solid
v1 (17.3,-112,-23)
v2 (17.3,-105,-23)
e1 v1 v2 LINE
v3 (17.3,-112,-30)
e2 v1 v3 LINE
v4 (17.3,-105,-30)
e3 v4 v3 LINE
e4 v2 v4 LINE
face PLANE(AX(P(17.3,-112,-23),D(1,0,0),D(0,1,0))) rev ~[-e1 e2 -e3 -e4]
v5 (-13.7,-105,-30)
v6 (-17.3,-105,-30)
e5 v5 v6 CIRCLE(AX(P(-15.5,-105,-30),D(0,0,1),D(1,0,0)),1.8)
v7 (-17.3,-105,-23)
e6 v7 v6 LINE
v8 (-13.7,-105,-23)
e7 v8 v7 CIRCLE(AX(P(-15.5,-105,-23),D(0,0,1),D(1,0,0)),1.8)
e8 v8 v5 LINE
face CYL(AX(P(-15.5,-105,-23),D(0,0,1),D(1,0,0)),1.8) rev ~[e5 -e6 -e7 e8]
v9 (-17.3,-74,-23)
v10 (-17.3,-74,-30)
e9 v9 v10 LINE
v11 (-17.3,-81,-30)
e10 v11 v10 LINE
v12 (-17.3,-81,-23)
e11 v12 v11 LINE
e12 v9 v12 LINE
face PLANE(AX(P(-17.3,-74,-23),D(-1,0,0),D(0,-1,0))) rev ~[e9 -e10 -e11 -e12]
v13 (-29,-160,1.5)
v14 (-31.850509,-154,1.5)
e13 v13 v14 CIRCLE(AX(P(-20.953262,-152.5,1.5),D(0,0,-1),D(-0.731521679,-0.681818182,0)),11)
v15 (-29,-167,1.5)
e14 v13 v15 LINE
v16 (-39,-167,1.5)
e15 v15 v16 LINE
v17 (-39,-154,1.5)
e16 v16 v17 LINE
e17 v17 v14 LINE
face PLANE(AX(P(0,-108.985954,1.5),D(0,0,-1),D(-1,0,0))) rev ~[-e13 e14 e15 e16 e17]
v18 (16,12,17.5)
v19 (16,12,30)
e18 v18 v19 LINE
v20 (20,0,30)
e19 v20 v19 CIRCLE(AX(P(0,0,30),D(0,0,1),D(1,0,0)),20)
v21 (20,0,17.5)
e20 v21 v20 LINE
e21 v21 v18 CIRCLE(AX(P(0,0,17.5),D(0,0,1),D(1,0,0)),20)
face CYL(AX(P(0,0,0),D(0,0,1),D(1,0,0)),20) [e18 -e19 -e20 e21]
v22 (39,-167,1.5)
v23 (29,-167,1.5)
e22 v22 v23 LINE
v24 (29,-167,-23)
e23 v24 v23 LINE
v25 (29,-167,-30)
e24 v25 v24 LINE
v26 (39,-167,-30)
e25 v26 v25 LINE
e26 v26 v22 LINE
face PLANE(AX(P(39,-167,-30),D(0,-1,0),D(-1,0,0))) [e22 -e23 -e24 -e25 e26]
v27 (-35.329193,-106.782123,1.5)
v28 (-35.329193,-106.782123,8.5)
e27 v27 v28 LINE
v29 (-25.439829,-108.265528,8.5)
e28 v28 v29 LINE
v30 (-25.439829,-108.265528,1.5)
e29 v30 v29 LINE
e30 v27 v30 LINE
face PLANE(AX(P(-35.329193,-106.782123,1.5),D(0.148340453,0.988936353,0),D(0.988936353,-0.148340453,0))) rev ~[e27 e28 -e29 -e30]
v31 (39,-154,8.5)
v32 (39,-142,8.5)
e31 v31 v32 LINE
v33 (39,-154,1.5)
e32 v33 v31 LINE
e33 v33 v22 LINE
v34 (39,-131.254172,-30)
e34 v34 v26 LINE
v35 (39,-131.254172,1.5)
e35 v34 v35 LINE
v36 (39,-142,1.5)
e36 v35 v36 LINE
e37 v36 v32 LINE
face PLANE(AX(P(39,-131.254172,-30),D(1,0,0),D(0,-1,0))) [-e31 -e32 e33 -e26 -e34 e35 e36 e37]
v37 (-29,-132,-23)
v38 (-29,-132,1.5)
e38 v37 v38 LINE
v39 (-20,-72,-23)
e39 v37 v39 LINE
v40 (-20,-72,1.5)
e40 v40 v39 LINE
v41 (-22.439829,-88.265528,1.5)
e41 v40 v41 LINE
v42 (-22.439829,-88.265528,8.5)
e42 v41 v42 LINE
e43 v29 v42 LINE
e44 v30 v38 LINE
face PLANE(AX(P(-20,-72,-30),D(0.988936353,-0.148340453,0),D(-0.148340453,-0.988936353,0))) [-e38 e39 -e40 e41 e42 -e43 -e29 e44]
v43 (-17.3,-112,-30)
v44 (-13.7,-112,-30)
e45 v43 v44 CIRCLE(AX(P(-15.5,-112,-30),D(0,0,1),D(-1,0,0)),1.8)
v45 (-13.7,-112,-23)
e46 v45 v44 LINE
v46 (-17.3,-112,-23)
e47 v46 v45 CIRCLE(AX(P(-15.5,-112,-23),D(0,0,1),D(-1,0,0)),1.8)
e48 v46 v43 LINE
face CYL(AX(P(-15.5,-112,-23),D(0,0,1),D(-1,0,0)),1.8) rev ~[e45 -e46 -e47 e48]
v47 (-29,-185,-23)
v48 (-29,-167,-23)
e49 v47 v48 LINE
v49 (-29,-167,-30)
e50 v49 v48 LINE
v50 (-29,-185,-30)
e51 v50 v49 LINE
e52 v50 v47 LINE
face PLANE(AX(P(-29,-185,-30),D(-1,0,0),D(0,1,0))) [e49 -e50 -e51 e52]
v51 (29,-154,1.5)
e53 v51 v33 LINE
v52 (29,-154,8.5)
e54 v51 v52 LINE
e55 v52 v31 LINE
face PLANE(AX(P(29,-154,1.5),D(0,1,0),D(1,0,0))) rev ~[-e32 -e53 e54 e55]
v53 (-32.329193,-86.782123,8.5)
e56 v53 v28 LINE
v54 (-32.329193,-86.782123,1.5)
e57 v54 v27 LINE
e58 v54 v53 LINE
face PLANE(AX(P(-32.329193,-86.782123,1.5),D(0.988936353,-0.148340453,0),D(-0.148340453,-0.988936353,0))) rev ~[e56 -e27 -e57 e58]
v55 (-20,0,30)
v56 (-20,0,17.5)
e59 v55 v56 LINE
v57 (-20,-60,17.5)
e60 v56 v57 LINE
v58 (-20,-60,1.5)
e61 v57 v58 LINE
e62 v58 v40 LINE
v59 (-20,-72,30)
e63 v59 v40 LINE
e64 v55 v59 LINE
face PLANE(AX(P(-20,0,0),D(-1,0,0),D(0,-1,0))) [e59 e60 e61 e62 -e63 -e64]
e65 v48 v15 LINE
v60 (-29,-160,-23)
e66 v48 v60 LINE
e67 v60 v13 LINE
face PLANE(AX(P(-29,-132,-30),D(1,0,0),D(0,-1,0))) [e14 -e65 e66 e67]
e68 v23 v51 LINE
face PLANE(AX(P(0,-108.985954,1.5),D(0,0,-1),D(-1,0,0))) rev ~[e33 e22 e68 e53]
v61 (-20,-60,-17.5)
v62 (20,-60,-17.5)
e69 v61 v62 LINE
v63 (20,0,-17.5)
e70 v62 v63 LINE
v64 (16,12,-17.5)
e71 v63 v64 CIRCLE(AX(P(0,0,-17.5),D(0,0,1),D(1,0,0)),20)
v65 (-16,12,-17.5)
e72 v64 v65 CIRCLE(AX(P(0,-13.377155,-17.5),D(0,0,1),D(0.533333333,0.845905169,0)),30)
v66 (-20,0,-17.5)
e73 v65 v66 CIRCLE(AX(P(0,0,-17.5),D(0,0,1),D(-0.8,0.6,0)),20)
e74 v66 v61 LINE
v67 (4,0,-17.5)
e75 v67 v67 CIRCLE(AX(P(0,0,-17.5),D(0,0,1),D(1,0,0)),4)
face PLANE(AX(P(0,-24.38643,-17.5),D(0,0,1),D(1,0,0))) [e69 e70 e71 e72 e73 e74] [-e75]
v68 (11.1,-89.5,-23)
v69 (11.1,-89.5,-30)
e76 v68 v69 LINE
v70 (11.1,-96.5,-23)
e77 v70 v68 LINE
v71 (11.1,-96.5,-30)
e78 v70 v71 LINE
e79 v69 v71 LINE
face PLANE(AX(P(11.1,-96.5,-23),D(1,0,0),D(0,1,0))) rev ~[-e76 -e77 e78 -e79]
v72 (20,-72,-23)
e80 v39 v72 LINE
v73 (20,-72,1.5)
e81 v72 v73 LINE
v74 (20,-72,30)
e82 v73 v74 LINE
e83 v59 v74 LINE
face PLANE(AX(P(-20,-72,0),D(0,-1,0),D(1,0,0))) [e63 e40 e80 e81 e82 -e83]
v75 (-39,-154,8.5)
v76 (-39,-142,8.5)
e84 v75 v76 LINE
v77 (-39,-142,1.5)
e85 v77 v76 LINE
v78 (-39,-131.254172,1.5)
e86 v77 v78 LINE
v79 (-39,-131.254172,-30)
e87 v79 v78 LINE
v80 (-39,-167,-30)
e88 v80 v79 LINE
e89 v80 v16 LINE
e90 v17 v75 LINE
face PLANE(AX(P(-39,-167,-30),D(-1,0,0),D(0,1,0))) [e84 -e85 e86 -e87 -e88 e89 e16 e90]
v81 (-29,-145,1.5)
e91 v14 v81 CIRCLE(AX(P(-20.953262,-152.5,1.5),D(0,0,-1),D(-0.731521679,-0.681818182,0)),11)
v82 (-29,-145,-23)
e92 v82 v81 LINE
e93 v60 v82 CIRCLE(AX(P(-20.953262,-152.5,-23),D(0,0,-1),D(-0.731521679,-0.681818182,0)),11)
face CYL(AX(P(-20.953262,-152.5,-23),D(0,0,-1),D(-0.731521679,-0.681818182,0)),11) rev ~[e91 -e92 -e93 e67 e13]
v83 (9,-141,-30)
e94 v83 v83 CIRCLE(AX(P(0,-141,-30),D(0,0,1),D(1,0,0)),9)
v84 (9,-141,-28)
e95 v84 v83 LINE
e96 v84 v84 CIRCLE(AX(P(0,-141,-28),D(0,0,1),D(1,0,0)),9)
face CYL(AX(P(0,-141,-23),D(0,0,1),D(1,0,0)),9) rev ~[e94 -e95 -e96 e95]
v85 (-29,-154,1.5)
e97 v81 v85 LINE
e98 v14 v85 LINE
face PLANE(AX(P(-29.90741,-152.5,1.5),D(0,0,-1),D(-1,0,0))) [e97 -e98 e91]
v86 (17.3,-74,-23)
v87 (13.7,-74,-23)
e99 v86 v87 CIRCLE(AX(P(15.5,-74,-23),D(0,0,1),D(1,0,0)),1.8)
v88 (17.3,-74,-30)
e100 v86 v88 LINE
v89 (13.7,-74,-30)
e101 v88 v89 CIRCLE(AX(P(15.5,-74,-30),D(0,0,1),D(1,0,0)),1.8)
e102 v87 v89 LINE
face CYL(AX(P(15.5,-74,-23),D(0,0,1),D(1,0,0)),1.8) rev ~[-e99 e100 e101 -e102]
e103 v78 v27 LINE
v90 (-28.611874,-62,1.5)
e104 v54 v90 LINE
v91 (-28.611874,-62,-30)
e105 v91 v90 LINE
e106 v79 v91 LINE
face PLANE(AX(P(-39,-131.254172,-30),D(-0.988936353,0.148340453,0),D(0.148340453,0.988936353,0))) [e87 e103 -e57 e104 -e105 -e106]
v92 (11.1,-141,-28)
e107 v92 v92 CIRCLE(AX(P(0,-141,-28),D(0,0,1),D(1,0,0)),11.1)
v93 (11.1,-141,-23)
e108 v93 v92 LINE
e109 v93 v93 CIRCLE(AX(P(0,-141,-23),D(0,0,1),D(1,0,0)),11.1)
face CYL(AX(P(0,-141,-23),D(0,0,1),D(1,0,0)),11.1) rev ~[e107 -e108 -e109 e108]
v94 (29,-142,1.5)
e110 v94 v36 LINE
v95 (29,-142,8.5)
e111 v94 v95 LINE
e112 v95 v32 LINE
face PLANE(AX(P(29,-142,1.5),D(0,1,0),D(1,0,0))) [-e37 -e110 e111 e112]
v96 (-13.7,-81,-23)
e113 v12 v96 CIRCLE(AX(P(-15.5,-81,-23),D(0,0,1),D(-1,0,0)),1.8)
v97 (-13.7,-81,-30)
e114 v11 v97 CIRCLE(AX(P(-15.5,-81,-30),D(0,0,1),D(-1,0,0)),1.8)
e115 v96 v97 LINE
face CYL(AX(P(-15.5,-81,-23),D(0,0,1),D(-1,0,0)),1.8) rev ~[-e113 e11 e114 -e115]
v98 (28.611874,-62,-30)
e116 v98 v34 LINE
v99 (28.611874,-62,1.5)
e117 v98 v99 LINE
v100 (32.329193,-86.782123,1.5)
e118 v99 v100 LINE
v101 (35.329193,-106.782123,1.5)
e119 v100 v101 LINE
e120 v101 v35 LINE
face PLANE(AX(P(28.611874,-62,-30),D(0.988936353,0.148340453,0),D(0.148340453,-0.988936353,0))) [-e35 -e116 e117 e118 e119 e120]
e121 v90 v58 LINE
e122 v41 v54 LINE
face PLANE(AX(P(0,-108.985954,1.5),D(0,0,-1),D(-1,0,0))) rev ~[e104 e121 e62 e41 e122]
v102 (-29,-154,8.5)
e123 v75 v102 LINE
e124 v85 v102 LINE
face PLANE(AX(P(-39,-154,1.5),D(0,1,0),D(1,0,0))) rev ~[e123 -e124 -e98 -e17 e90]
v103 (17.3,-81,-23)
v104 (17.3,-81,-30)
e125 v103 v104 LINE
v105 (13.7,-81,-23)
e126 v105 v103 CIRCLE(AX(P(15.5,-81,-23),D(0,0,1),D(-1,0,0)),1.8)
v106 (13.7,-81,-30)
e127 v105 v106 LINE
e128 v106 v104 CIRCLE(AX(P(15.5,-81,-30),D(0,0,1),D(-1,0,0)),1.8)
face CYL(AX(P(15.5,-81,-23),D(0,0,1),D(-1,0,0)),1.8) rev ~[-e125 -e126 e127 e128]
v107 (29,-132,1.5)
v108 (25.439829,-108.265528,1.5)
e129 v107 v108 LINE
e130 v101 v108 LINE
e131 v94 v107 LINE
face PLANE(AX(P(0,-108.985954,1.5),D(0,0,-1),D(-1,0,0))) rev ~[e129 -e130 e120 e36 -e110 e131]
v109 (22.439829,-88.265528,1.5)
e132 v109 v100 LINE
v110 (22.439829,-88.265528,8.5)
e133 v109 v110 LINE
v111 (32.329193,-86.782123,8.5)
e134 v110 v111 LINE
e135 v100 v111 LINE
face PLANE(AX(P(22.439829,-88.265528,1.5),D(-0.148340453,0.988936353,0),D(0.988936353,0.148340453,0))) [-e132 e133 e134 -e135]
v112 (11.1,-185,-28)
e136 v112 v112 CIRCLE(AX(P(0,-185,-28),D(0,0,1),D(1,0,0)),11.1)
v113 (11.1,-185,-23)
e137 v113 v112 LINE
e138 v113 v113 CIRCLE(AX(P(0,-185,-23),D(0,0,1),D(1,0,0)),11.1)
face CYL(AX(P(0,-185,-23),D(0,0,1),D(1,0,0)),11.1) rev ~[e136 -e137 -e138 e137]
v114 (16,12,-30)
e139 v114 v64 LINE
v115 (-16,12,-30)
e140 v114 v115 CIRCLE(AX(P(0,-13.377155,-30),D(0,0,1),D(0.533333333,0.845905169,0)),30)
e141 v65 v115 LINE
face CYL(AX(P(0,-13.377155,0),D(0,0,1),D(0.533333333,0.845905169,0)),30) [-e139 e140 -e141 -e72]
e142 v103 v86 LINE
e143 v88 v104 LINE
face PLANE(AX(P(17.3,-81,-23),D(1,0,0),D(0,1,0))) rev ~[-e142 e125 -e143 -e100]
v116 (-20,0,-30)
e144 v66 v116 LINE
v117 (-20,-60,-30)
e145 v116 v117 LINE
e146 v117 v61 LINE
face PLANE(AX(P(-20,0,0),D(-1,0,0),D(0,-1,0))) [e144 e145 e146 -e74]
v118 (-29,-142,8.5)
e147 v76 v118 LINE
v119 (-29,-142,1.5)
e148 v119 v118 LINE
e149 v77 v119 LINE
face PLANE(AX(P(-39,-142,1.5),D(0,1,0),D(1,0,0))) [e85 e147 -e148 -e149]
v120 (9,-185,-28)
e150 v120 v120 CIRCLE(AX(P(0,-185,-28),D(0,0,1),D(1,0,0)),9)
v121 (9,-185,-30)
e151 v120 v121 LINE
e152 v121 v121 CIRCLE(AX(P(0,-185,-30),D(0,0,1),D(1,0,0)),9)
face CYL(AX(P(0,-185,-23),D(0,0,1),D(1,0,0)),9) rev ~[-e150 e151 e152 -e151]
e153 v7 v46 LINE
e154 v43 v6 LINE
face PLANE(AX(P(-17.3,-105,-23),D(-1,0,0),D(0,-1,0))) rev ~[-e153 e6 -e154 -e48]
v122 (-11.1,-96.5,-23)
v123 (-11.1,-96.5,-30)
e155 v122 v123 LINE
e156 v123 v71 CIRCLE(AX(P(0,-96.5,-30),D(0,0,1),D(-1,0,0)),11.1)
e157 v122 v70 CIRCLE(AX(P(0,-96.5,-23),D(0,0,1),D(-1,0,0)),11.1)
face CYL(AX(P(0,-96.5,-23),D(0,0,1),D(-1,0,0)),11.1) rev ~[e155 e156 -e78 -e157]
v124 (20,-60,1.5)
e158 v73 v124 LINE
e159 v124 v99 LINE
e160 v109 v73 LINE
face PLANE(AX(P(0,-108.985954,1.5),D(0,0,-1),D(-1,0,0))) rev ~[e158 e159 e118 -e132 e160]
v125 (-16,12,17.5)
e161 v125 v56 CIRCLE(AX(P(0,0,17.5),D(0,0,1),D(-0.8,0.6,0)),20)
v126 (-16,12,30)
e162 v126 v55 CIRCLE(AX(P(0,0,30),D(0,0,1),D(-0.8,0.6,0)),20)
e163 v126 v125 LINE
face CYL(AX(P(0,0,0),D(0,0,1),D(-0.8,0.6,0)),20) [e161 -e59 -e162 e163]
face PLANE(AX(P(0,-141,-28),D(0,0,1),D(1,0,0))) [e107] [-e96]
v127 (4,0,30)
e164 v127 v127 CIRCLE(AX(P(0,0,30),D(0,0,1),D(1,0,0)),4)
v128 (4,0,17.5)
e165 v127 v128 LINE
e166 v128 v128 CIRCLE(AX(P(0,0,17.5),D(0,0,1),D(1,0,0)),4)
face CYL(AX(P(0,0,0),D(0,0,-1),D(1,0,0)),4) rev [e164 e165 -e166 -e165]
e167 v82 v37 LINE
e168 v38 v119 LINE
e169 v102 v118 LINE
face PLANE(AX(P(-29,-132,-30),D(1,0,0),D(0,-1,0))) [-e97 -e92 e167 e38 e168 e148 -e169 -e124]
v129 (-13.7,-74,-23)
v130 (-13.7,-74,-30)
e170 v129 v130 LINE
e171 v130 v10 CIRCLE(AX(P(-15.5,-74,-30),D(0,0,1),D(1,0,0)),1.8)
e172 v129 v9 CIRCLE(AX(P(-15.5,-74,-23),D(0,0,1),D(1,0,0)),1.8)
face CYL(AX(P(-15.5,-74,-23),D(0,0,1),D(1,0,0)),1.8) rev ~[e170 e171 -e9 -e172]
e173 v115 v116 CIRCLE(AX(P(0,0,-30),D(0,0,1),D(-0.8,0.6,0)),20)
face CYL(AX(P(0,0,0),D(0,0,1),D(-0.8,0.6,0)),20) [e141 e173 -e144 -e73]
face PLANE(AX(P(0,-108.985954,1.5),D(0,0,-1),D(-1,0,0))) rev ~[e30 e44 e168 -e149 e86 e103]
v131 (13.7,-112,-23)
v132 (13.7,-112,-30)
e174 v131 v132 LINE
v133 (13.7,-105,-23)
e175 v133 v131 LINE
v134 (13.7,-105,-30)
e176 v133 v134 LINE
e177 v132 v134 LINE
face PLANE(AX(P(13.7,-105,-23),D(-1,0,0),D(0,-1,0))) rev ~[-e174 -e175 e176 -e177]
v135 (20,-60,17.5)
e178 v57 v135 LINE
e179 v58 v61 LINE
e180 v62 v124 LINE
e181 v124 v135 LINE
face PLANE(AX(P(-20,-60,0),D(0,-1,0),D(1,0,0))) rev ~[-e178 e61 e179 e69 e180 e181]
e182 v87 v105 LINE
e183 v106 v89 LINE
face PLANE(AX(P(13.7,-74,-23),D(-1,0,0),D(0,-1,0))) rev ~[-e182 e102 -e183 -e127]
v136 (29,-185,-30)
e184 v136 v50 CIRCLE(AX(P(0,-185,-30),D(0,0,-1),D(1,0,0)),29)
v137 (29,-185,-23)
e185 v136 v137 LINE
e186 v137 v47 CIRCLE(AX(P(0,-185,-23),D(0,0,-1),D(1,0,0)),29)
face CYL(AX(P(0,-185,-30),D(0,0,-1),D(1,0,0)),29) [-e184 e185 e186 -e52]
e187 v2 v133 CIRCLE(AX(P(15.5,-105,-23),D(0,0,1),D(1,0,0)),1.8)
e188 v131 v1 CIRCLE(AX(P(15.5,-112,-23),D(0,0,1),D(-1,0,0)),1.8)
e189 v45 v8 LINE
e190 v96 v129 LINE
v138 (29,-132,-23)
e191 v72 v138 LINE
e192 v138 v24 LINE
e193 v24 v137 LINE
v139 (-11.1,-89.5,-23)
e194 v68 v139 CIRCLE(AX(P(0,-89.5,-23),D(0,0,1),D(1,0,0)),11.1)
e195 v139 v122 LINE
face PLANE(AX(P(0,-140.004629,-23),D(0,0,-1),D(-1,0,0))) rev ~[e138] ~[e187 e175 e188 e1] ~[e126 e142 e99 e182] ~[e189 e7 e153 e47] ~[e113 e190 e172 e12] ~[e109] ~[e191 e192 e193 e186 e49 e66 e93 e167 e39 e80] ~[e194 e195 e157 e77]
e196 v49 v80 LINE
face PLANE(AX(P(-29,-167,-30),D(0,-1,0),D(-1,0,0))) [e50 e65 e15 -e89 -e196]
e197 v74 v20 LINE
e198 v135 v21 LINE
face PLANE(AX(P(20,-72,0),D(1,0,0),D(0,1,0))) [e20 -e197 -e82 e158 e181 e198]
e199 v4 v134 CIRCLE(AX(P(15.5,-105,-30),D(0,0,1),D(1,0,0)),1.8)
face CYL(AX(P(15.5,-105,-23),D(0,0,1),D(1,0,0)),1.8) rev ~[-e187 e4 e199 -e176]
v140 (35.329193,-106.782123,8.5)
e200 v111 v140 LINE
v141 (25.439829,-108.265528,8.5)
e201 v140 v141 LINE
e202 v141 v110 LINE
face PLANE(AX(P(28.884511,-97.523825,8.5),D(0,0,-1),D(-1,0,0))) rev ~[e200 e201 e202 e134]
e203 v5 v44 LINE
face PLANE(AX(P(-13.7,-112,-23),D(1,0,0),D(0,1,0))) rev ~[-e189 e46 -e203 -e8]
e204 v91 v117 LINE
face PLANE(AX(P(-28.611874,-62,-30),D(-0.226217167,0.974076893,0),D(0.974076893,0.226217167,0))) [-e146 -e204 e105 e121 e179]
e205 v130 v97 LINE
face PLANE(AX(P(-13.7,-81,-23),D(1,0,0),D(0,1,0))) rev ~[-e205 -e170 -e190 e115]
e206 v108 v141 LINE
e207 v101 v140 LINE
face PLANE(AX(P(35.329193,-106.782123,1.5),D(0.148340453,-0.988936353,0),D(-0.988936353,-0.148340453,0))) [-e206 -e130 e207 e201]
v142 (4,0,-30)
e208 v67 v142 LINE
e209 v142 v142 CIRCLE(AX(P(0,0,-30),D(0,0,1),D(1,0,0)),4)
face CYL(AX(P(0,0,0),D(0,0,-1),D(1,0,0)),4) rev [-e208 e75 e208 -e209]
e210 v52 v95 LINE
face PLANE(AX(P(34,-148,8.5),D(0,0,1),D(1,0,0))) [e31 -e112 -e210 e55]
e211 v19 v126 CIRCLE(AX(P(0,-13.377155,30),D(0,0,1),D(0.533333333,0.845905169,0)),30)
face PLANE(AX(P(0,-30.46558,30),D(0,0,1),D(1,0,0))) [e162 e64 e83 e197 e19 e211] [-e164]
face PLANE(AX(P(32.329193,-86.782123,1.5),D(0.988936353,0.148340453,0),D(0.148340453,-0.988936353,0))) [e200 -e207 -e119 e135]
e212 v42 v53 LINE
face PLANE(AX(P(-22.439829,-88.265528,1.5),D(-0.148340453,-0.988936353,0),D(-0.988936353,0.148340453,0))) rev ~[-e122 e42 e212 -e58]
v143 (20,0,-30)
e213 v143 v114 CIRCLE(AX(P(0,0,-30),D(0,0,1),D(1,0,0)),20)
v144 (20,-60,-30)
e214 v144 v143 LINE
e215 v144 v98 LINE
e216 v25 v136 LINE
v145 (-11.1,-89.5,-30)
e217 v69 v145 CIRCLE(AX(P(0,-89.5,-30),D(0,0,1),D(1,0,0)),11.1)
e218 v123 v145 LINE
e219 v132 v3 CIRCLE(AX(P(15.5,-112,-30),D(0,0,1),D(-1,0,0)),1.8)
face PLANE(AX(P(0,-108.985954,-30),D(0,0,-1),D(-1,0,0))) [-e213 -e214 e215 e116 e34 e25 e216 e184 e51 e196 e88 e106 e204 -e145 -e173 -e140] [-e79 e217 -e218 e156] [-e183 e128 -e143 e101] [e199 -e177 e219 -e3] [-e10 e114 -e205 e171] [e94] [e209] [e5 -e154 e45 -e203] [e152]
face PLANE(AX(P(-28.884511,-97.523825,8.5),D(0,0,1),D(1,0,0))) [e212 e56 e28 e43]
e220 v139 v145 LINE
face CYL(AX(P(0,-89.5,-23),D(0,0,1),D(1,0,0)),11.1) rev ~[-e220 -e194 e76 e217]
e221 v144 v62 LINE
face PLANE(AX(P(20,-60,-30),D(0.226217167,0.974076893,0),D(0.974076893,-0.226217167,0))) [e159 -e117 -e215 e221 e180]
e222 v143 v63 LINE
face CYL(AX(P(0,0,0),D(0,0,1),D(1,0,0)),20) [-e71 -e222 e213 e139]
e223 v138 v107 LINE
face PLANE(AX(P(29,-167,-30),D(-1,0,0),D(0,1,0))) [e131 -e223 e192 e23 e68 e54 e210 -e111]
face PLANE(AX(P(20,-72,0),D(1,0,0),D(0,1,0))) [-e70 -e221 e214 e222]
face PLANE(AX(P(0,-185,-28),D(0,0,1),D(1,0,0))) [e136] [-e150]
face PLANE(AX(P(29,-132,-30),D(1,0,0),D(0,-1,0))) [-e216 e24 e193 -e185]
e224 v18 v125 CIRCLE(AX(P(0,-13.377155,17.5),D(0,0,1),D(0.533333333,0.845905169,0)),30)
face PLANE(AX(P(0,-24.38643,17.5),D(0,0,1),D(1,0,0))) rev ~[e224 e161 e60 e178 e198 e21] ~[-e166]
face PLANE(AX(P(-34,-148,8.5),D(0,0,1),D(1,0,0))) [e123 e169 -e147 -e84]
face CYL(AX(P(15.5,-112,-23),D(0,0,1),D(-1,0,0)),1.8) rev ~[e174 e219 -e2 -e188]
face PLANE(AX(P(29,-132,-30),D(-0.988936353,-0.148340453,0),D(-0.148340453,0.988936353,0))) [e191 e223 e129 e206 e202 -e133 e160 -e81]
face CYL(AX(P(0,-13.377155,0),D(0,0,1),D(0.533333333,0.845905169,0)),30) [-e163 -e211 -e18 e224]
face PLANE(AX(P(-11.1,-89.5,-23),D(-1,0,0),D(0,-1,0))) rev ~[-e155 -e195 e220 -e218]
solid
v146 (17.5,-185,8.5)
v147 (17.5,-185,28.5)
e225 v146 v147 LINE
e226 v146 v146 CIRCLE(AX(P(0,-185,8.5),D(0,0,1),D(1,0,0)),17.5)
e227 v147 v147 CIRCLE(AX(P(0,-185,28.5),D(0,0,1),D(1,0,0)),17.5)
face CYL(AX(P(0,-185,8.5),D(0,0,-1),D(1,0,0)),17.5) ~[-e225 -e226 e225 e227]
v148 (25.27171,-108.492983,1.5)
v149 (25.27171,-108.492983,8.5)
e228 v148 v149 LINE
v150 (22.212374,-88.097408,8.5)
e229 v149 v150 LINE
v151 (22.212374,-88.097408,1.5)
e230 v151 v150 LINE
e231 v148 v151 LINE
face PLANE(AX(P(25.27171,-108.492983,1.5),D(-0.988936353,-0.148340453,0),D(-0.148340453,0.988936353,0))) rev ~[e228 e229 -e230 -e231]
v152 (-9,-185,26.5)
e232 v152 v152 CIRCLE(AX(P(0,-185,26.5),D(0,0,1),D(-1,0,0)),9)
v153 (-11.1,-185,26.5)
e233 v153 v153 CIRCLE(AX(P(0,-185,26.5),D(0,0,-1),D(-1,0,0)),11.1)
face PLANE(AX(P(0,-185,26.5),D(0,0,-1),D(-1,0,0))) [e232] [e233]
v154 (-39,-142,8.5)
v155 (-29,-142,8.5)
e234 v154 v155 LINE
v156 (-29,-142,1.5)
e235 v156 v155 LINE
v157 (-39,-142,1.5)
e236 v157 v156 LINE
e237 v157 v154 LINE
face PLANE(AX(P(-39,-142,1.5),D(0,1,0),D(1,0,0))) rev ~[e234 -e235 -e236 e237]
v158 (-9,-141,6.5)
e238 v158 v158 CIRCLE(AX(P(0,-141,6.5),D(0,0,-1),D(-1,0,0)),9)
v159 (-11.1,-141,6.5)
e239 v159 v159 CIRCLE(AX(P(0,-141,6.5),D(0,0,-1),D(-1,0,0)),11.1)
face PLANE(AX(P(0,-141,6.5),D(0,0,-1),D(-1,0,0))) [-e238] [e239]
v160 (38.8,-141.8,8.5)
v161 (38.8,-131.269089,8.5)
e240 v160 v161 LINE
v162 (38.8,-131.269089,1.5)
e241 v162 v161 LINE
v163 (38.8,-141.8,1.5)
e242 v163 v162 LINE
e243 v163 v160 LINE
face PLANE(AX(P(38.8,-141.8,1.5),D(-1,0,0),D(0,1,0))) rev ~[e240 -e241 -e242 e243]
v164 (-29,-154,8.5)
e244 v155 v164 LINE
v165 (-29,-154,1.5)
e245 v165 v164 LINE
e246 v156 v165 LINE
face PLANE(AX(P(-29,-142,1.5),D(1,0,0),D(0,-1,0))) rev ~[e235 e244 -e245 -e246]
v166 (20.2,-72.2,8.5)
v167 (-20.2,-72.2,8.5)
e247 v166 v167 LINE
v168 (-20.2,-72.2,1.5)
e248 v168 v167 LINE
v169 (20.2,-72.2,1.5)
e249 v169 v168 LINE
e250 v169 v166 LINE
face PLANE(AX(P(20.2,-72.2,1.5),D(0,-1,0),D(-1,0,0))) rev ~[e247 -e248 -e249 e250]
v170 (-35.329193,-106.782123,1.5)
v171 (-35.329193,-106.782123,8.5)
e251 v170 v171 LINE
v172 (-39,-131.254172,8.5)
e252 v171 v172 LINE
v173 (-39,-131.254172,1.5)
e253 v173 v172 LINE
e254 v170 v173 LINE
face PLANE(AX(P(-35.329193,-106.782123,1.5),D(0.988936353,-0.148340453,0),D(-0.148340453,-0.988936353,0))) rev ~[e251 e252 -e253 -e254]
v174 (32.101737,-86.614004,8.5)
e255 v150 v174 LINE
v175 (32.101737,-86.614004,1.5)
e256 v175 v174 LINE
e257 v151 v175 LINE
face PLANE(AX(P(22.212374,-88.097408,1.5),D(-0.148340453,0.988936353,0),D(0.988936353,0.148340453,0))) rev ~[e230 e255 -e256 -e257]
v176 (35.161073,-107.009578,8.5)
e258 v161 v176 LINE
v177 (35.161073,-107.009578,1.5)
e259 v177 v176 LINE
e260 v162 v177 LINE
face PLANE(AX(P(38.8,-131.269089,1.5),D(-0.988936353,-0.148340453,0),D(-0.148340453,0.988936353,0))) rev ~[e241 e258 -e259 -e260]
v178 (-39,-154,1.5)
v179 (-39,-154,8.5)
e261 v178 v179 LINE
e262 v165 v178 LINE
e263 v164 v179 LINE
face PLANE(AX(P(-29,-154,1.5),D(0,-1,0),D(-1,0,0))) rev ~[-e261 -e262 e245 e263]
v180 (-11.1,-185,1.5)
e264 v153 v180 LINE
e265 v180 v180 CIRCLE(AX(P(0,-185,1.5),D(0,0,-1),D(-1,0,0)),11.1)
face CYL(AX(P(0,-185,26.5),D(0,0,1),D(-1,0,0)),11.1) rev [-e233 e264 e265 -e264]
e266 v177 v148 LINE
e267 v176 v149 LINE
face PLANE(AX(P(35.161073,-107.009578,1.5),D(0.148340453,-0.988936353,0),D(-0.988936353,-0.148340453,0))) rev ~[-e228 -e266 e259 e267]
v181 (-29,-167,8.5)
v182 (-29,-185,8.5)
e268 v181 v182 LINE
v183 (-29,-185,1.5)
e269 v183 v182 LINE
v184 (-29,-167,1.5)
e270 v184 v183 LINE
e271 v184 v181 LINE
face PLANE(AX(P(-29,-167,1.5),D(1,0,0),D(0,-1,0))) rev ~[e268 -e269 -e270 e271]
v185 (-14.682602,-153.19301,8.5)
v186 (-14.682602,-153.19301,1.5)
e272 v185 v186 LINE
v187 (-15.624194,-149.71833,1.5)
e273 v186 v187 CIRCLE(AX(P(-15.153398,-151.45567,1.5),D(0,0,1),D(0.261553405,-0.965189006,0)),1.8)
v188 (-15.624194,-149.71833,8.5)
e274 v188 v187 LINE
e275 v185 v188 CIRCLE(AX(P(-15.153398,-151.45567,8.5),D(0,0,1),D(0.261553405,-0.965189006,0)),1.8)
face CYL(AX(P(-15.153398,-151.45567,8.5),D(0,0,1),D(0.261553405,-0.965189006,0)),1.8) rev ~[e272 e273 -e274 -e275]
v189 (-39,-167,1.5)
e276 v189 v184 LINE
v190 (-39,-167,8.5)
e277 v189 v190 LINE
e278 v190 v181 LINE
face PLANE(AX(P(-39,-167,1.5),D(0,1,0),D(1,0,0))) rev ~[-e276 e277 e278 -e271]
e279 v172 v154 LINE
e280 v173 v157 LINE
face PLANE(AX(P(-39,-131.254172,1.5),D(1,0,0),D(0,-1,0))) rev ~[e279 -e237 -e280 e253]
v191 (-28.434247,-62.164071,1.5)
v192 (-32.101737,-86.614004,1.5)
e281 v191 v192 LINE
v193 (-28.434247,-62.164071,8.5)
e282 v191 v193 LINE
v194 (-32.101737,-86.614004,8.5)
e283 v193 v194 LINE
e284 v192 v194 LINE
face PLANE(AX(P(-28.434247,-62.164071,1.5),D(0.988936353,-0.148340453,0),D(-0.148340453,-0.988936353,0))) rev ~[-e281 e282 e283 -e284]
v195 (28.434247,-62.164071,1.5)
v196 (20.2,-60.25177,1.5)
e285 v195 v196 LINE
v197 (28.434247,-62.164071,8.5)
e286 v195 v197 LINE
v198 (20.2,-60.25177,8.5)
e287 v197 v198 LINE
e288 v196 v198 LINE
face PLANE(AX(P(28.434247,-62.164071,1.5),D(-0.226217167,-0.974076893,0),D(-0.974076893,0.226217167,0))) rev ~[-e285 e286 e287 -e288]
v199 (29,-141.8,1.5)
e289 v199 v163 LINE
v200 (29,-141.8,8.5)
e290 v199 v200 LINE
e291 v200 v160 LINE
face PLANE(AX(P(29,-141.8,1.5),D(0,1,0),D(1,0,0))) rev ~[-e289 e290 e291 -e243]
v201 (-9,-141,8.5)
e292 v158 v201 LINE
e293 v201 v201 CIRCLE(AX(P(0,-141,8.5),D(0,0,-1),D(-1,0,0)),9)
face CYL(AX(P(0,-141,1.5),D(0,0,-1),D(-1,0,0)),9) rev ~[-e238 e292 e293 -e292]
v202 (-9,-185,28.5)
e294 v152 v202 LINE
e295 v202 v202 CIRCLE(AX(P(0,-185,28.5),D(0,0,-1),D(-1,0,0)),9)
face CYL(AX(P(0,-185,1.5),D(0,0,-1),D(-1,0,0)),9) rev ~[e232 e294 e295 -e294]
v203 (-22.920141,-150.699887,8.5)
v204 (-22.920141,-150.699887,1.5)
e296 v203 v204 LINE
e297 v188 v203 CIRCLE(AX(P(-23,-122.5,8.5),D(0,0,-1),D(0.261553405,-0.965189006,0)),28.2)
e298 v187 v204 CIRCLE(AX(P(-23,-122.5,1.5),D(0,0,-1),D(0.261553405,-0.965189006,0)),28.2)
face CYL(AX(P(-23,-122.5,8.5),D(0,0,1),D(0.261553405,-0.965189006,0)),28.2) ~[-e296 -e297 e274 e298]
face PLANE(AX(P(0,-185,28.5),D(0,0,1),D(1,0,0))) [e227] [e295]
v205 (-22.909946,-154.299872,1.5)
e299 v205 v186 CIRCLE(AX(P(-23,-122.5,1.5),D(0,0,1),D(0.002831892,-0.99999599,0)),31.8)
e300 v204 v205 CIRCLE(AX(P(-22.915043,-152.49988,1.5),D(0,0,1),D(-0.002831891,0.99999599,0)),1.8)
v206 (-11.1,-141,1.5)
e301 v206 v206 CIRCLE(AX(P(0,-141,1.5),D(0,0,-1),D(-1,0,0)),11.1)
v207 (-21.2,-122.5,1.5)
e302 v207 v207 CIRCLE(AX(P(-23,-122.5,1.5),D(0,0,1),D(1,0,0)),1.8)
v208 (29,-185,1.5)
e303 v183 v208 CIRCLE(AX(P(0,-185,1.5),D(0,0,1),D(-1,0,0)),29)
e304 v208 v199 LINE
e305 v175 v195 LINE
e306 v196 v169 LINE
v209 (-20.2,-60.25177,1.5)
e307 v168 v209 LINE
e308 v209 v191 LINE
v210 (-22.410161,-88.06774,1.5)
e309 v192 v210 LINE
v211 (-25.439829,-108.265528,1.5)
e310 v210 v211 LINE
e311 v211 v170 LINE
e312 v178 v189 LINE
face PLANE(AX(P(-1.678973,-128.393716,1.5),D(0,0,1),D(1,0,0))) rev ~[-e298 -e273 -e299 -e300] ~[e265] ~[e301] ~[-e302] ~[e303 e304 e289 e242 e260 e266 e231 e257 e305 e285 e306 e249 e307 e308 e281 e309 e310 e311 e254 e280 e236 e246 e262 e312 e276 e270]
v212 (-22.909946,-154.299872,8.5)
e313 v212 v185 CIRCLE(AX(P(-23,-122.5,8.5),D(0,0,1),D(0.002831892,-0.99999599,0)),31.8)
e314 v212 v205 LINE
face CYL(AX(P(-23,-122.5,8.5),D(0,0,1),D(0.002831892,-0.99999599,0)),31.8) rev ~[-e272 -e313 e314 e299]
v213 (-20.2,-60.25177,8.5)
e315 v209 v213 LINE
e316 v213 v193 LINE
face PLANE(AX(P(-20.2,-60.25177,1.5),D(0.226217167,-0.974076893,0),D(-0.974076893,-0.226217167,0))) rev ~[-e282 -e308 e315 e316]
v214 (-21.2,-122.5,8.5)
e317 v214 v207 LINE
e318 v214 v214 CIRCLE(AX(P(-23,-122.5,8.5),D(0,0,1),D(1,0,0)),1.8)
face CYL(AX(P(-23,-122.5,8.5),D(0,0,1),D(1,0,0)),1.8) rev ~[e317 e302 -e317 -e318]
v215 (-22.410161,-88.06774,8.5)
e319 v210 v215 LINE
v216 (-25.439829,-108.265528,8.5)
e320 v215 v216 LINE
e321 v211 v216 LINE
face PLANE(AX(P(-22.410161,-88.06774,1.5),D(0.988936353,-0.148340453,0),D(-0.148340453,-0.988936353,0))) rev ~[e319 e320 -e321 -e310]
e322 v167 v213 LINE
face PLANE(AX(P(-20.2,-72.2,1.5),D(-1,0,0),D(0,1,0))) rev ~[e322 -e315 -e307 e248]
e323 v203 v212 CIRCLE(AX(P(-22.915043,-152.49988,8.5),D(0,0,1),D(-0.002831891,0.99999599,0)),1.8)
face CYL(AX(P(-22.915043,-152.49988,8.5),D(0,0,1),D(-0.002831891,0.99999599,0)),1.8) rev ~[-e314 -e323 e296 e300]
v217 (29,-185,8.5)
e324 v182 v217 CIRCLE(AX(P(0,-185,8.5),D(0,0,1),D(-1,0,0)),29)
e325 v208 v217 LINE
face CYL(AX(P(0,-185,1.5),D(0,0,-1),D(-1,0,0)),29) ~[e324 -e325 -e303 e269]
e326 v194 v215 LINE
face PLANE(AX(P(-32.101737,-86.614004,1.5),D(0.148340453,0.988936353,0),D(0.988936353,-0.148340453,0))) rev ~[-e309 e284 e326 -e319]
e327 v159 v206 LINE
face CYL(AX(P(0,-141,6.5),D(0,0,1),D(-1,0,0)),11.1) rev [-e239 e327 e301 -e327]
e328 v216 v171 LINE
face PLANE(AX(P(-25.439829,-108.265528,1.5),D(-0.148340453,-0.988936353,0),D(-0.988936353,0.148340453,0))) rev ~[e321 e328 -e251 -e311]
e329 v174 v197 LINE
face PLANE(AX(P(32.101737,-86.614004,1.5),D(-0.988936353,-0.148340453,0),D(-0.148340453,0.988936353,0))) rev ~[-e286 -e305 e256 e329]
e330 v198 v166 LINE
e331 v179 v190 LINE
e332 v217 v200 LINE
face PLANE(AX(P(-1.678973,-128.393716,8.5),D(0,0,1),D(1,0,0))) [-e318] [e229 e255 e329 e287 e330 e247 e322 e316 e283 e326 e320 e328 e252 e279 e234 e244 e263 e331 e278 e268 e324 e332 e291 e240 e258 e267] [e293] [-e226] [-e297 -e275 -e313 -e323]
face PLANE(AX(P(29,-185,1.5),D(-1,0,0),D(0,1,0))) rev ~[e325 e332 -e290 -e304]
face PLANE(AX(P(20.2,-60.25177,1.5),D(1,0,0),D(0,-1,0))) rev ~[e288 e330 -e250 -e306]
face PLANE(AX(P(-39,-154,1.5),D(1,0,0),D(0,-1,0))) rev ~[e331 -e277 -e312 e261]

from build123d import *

# Parameters (mm, degrees)
SKETCH1_R           = 4
BOSS_EXTRUDE1_DEPTH = 30
SKETCH1_3_R         = 4
CUT_EXTRUDE1_DEPTH  = 17.5
BOSS_EXTRUDE2_DEPTH = 7
BOSS_EXTRUDE3_DEPTH = 31.5
CUT_EXTRUDE2_DEPTH  = 224.888365039
SKETCH5_R           = 9
CUT_EXTRUDE3_DEPTH  = 224.888365039
SKETCH5_3_R         = 11.1
SKETCH5_3_R_2       = 9
CUT_EXTRUDE4_DEPTH  = 5
SKETCH8_W           = 10
SKETCH8_H           = 12
BOSS_EXTRUDE4_DEPTH = 7
BOSS_EXTRUDE6_DEPTH = 7
SKETCH13_R          = 17.5
BOSS_EXTRUDE7_DEPTH = 20
SKETCH12_R          = 9
CUT_EXTRUDE5_DEPTH  = 220.79365323
CUT_EXTRUDE7_START  = -25
SKETCH12_5_R        = 11.1
SKETCH12_5_R_2      = 9
CUT_EXTRUDE7_DEPTH  = 25
CUT_EXTRUDE8_START  = -5
SKETCH12_6_R        = 11.1
SKETCH12_6_R_2      = 9
CUT_EXTRUDE8_DEPTH  = 5
SKETCH14_R          = 1.8
CUT_EXTRUDE9_DEPTH  = 7
CUT_EXTRUDE10_DEPTH = 24.5


with BuildPart() as part:
    # Sketch1 → Boss-Extrude1 (new, symmetric)
    with BuildSketch(Plane.XY):
        with BuildLine():
            Line((-20, -72), (20, -72))
            Line((20, -72), (20, 0))
            ThreePointArc((20, 0), (18.973665961, 6.32455532), (16, 12))
            ThreePointArc((16, 12), (0, 16.622844919), (-16, 12))
            ThreePointArc((-16, 12), (-18.973665961, 6.32455532), (-20, 0))
            Line((-20, 0), (-20, -72))
        make_face()
        Circle(SKETCH1_R, mode=Mode.SUBTRACT)
    extrude(amount=BOSS_EXTRUDE1_DEPTH, both=True)

    # Sketch1<3> → Cut-Extrude1 (cut, symmetric)
    with BuildSketch(Plane.XY):
        with BuildLine():
            Line((-20, -60), (20, -60))
            Line((20, -60), (20, 0))
            ThreePointArc((20, 0), (18.973665961, 6.32455532), (16, 12))
            ThreePointArc((16, 12), (0, 16.622844919), (-16, 12))
            ThreePointArc((-16, 12), (-18.973665961, 6.32455532), (-20, 0))
            Line((-20, 0), (-20, -60))
        make_face()
        Circle(SKETCH1_3_R, mode=Mode.SUBTRACT)
    extrude(amount=CUT_EXTRUDE1_DEPTH, both=True, mode=Mode.SUBTRACT)

    # Sketch2 → Boss-Extrude2 (add)
    with BuildSketch(Plane(origin=(0, 0, -30), x_dir=(-1, 0, 0), z_dir=(0, 0, -1))):
        with BuildLine():
            Line((-20, -72), (-29, -132))
            Line((-29, -132), (-29, -167))
            Line((-29, -167), (-29, -185))
            ThreePointArc((-29, -185), (0, -214), (29, -185))
            Line((29, -185), (29, -167))
            Line((29, -167), (29, -132))
            Line((29, -132), (20, -72))
            Line((20, -72), (-20, -72))
        make_face()
    extrude(amount=-BOSS_EXTRUDE2_DEPTH)

    # Sketch2<3> → Boss-Extrude3 (add)
    with BuildSketch(Plane(origin=(0, 0, -30), x_dir=(-1, 0, 0), z_dir=(0, 0, -1))):
        Polygon((-29, -167), (-29, -132), (-20, -72), (20, -72), (29, -132), (29, -167), (39, -167), (39, -131.254171946), (28.611874208, -62), (20, -60), (-20, -60), (-28.611874208, -62), (-39, -131.254171946), (-39, -167), align=None)
    extrude(amount=-BOSS_EXTRUDE3_DEPTH)

    # Sketch4 → Cut-Extrude2 (cut, through all)
    with BuildSketch(Plane.XY.offset(-23)):
        with BuildLine():
            Line((-13.7, -112), (-13.7, -105))
            ThreePointArc((-13.7, -105), (-15.5, -103.2), (-17.3, -105))
            Line((-17.3, -105), (-17.3, -112))
            ThreePointArc((-17.3, -112), (-15.5, -113.8), (-13.7, -112))
        make_face()
        with BuildLine():
            Line((17.3, -112), (17.3, -105))
            ThreePointArc((17.3, -105), (15.5, -103.2), (13.7, -105))
            Line((13.7, -105), (13.7, -112))
            ThreePointArc((13.7, -112), (15.5, -113.8), (17.3, -112))
        make_face()
        with BuildLine():
            Line((17.3, -81), (17.3, -74))
            ThreePointArc((17.3, -74), (15.5, -72.2), (13.7, -74))
            Line((13.7, -74), (13.7, -81))
            ThreePointArc((13.7, -81), (15.5, -82.8), (17.3, -81))
        make_face()
        with BuildLine():
            Line((11.1, -96.5), (11.1, -89.5))
            ThreePointArc((11.1, -89.5), (0, -78.4), (-11.1, -89.5))
            Line((-11.1, -89.5), (-11.1, -96.5))
            ThreePointArc((-11.1, -96.5), (0, -107.6), (11.1, -96.5))
        make_face()
        with BuildLine():
            Line((-13.7, -81), (-13.7, -74))
            ThreePointArc((-13.7, -74), (-15.5, -72.2), (-17.3, -74))
            Line((-17.3, -74), (-17.3, -81))
            ThreePointArc((-17.3, -81), (-15.5, -82.8), (-13.7, -81))
        make_face()
    extrude(amount=-CUT_EXTRUDE2_DEPTH, mode=Mode.SUBTRACT)

    # Sketch5 → Cut-Extrude3 (cut, through all)
    with BuildSketch(Plane.XY.offset(-23)):
        with Locations((0, -185)):
            Circle(SKETCH5_R)
        with Locations((0, -141)):
            Circle(SKETCH5_R)
    extrude(amount=-CUT_EXTRUDE3_DEPTH, mode=Mode.SUBTRACT)

    # Sketch5<3> → Cut-Extrude4 (cut)
    # profile 1 of 2: a face of its own
    with BuildSketch(Plane.XY.offset(-23)):
        with Locations((0, -141)):
            Circle(SKETCH5_3_R)
        with Locations((0, -141)):
            Circle(SKETCH5_3_R_2, mode=Mode.SUBTRACT)
    # profile 2 of 2: a face of its own
    with BuildSketch(Plane.XY.offset(-23)):
        with Locations((0, -185)):
            Circle(SKETCH5_3_R)
        with Locations((0, -185)):
            Circle(SKETCH5_3_R_2, mode=Mode.SUBTRACT)
    extrude(amount=-CUT_EXTRUDE4_DEPTH, mode=Mode.SUBTRACT)

    # Sketch8 → Boss-Extrude4 (add)
    with BuildSketch(Plane.XY.offset(1.5)):
        Polygon((-22.43982913, -88.265527531), (-32.329192658, -86.782123002), (-35.329192658, -106.782123002), (-25.43982913, -108.265527531), align=None)
        with Locations((-34, -148)):
            Rectangle(SKETCH8_W, SKETCH8_H)
        with Locations((34, -148)):
            Rectangle(SKETCH8_W, SKETCH8_H)
        Polygon((25.43982913, -108.265527531), (22.43982913, -88.265527531), (32.329192658, -86.782123002), (35.329192658, -106.782123002), align=None)
    extrude(amount=BOSS_EXTRUDE4_DEPTH)

    # Sketch15 → Cut-Extrude10 (cut)
    with BuildSketch(Plane.XY.offset(-23)):
        with BuildLine():
            Line((-29, -145), (-29, -160))
            ThreePointArc((-29, -160), (-31.95326153, -152.5), (-29, -145))
        make_face()
    extrude(amount=CUT_EXTRUDE10_DEPTH, mode=Mode.SUBTRACT)


with BuildPart() as body_2:
    # Sketch11 → Boss-Extrude6 (new body)
    with BuildSketch(Plane.XY.offset(1.5)):
        with BuildLine():
            Line((-39, -142), (-29, -142))
            Line((-29, -142), (-29, -154))
            Line((-29, -154), (-39, -154))
            Line((-39, -154), (-39, -167))
            Line((-39, -167), (-29, -167))
            Line((-29, -167), (-29, -185))
            ThreePointArc((-29, -185), (0, -214), (29, -185))
            Line((29, -185), (29, -141.8))
            Line((29, -141.8), (29.2, -141.8))
            Line((29.2, -141.8), (38.8, -141.8))
            Line((38.8, -141.8), (38.8, -131.269088507))
            Line((38.8, -131.269088507), (35.161073478, -107.009578363))
            Line((35.161073478, -107.009578363), (25.27170995, -108.492982892))
            Line((25.27170995, -108.492982892), (22.212373769, -88.097408351))
            Line((22.212373769, -88.097408351), (32.101737297, -86.614003822))
            Line((32.101737297, -86.614003822), (28.434247372, -62.16407099))
            Line((28.434247372, -62.16407099), (20.2, -60.251770097))
            Line((20.2, -60.251770097), (20.2, -72.2))
            Line((20.2, -72.2), (-20.2, -72.2))
            Line((-20.2, -72.2), (-20.2, -60.251770097))
            Line((-20.2, -60.251770097), (-28.434247372, -62.16407099))
            Line((-28.434247372, -62.16407099), (-32.101737297, -86.614003822))
            Line((-32.101737297, -86.614003822), (-22.410161039, -88.067740261))
            Line((-22.410161039, -88.067740261), (-25.43982913, -108.265527531))
            Line((-25.43982913, -108.265527531), (-35.329192658, -106.782123002))
            Line((-35.329192658, -106.782123002), (-39, -131.254171946))
            Line((-39, -131.254171946), (-39, -142))
        make_face()
    extrude(amount=BOSS_EXTRUDE6_DEPTH)

    # Sketch13 → Boss-Extrude7 (add)
    with BuildSketch(Plane.XY.offset(8.5)):
        with Locations((0, -185)):
            Circle(SKETCH13_R)
    extrude(amount=BOSS_EXTRUDE7_DEPTH)

    # Sketch12 → Cut-Extrude5 (cut, through all)
    with BuildSketch(Plane(origin=(0, 0, 1.5), x_dir=(-1, 0, 0), z_dir=(0, 0, -1))):
        with Locations((0, -185)):
            Circle(SKETCH12_R)
        with Locations((0, -141)):
            Circle(SKETCH12_R)
    extrude(amount=-CUT_EXTRUDE5_DEPTH, mode=Mode.SUBTRACT)

    # Sketch12<5> → Cut-Extrude7 (cut)
    with BuildSketch(Plane(origin=(0, 0, 1.5), x_dir=(-1, 0, 0), z_dir=(0, 0, -1)).offset(CUT_EXTRUDE7_START)):
        with Locations((0, -185)):
            Circle(SKETCH12_5_R)
        with Locations(Location((0, -185, 0), (0, 0, 180))):
            Circle(SKETCH12_5_R_2, mode=Mode.SUBTRACT)
    extrude(amount=CUT_EXTRUDE7_DEPTH, mode=Mode.SUBTRACT)

    # Sketch12<6> → Cut-Extrude8 (cut)
    with BuildSketch(Plane(origin=(0, 0, 1.5), x_dir=(-1, 0, 0), z_dir=(0, 0, -1)).offset(CUT_EXTRUDE8_START)):
        with Locations((0, -141)):
            Circle(SKETCH12_6_R)
        with Locations((0, -141)):
            Circle(SKETCH12_6_R_2, mode=Mode.SUBTRACT)
    extrude(amount=CUT_EXTRUDE8_DEPTH, mode=Mode.SUBTRACT)

    # Sketch14 → Cut-Extrude9 (cut)
    with BuildSketch(Plane.XY.offset(8.5)):
        with BuildLine():
            ThreePointArc((-22.909945843, -154.299872488), (-18.76, -154.016065744), (-14.682601732, -153.193010378))
            ThreePointArc((-14.682601732, -153.193010378), (-13.416057651, -150.984874039), (-15.624193989, -149.718329958))
            ThreePointArc((-15.624193989, -149.718329958), (-19.24, -150.448209245), (-22.920140653, -150.699886923))
            ThreePointArc((-22.920140653, -150.699886923), (-24.715036031, -152.504977111), (-22.909945843, -154.299872488))
        make_face()
        with Locations((-23, -122.5)):
            Circle(SKETCH14_R)
    extrude(amount=-CUT_EXTRUDE9_DEPTH, mode=Mode.SUBTRACT)


solid = Compound([part.part, body_2.part])
